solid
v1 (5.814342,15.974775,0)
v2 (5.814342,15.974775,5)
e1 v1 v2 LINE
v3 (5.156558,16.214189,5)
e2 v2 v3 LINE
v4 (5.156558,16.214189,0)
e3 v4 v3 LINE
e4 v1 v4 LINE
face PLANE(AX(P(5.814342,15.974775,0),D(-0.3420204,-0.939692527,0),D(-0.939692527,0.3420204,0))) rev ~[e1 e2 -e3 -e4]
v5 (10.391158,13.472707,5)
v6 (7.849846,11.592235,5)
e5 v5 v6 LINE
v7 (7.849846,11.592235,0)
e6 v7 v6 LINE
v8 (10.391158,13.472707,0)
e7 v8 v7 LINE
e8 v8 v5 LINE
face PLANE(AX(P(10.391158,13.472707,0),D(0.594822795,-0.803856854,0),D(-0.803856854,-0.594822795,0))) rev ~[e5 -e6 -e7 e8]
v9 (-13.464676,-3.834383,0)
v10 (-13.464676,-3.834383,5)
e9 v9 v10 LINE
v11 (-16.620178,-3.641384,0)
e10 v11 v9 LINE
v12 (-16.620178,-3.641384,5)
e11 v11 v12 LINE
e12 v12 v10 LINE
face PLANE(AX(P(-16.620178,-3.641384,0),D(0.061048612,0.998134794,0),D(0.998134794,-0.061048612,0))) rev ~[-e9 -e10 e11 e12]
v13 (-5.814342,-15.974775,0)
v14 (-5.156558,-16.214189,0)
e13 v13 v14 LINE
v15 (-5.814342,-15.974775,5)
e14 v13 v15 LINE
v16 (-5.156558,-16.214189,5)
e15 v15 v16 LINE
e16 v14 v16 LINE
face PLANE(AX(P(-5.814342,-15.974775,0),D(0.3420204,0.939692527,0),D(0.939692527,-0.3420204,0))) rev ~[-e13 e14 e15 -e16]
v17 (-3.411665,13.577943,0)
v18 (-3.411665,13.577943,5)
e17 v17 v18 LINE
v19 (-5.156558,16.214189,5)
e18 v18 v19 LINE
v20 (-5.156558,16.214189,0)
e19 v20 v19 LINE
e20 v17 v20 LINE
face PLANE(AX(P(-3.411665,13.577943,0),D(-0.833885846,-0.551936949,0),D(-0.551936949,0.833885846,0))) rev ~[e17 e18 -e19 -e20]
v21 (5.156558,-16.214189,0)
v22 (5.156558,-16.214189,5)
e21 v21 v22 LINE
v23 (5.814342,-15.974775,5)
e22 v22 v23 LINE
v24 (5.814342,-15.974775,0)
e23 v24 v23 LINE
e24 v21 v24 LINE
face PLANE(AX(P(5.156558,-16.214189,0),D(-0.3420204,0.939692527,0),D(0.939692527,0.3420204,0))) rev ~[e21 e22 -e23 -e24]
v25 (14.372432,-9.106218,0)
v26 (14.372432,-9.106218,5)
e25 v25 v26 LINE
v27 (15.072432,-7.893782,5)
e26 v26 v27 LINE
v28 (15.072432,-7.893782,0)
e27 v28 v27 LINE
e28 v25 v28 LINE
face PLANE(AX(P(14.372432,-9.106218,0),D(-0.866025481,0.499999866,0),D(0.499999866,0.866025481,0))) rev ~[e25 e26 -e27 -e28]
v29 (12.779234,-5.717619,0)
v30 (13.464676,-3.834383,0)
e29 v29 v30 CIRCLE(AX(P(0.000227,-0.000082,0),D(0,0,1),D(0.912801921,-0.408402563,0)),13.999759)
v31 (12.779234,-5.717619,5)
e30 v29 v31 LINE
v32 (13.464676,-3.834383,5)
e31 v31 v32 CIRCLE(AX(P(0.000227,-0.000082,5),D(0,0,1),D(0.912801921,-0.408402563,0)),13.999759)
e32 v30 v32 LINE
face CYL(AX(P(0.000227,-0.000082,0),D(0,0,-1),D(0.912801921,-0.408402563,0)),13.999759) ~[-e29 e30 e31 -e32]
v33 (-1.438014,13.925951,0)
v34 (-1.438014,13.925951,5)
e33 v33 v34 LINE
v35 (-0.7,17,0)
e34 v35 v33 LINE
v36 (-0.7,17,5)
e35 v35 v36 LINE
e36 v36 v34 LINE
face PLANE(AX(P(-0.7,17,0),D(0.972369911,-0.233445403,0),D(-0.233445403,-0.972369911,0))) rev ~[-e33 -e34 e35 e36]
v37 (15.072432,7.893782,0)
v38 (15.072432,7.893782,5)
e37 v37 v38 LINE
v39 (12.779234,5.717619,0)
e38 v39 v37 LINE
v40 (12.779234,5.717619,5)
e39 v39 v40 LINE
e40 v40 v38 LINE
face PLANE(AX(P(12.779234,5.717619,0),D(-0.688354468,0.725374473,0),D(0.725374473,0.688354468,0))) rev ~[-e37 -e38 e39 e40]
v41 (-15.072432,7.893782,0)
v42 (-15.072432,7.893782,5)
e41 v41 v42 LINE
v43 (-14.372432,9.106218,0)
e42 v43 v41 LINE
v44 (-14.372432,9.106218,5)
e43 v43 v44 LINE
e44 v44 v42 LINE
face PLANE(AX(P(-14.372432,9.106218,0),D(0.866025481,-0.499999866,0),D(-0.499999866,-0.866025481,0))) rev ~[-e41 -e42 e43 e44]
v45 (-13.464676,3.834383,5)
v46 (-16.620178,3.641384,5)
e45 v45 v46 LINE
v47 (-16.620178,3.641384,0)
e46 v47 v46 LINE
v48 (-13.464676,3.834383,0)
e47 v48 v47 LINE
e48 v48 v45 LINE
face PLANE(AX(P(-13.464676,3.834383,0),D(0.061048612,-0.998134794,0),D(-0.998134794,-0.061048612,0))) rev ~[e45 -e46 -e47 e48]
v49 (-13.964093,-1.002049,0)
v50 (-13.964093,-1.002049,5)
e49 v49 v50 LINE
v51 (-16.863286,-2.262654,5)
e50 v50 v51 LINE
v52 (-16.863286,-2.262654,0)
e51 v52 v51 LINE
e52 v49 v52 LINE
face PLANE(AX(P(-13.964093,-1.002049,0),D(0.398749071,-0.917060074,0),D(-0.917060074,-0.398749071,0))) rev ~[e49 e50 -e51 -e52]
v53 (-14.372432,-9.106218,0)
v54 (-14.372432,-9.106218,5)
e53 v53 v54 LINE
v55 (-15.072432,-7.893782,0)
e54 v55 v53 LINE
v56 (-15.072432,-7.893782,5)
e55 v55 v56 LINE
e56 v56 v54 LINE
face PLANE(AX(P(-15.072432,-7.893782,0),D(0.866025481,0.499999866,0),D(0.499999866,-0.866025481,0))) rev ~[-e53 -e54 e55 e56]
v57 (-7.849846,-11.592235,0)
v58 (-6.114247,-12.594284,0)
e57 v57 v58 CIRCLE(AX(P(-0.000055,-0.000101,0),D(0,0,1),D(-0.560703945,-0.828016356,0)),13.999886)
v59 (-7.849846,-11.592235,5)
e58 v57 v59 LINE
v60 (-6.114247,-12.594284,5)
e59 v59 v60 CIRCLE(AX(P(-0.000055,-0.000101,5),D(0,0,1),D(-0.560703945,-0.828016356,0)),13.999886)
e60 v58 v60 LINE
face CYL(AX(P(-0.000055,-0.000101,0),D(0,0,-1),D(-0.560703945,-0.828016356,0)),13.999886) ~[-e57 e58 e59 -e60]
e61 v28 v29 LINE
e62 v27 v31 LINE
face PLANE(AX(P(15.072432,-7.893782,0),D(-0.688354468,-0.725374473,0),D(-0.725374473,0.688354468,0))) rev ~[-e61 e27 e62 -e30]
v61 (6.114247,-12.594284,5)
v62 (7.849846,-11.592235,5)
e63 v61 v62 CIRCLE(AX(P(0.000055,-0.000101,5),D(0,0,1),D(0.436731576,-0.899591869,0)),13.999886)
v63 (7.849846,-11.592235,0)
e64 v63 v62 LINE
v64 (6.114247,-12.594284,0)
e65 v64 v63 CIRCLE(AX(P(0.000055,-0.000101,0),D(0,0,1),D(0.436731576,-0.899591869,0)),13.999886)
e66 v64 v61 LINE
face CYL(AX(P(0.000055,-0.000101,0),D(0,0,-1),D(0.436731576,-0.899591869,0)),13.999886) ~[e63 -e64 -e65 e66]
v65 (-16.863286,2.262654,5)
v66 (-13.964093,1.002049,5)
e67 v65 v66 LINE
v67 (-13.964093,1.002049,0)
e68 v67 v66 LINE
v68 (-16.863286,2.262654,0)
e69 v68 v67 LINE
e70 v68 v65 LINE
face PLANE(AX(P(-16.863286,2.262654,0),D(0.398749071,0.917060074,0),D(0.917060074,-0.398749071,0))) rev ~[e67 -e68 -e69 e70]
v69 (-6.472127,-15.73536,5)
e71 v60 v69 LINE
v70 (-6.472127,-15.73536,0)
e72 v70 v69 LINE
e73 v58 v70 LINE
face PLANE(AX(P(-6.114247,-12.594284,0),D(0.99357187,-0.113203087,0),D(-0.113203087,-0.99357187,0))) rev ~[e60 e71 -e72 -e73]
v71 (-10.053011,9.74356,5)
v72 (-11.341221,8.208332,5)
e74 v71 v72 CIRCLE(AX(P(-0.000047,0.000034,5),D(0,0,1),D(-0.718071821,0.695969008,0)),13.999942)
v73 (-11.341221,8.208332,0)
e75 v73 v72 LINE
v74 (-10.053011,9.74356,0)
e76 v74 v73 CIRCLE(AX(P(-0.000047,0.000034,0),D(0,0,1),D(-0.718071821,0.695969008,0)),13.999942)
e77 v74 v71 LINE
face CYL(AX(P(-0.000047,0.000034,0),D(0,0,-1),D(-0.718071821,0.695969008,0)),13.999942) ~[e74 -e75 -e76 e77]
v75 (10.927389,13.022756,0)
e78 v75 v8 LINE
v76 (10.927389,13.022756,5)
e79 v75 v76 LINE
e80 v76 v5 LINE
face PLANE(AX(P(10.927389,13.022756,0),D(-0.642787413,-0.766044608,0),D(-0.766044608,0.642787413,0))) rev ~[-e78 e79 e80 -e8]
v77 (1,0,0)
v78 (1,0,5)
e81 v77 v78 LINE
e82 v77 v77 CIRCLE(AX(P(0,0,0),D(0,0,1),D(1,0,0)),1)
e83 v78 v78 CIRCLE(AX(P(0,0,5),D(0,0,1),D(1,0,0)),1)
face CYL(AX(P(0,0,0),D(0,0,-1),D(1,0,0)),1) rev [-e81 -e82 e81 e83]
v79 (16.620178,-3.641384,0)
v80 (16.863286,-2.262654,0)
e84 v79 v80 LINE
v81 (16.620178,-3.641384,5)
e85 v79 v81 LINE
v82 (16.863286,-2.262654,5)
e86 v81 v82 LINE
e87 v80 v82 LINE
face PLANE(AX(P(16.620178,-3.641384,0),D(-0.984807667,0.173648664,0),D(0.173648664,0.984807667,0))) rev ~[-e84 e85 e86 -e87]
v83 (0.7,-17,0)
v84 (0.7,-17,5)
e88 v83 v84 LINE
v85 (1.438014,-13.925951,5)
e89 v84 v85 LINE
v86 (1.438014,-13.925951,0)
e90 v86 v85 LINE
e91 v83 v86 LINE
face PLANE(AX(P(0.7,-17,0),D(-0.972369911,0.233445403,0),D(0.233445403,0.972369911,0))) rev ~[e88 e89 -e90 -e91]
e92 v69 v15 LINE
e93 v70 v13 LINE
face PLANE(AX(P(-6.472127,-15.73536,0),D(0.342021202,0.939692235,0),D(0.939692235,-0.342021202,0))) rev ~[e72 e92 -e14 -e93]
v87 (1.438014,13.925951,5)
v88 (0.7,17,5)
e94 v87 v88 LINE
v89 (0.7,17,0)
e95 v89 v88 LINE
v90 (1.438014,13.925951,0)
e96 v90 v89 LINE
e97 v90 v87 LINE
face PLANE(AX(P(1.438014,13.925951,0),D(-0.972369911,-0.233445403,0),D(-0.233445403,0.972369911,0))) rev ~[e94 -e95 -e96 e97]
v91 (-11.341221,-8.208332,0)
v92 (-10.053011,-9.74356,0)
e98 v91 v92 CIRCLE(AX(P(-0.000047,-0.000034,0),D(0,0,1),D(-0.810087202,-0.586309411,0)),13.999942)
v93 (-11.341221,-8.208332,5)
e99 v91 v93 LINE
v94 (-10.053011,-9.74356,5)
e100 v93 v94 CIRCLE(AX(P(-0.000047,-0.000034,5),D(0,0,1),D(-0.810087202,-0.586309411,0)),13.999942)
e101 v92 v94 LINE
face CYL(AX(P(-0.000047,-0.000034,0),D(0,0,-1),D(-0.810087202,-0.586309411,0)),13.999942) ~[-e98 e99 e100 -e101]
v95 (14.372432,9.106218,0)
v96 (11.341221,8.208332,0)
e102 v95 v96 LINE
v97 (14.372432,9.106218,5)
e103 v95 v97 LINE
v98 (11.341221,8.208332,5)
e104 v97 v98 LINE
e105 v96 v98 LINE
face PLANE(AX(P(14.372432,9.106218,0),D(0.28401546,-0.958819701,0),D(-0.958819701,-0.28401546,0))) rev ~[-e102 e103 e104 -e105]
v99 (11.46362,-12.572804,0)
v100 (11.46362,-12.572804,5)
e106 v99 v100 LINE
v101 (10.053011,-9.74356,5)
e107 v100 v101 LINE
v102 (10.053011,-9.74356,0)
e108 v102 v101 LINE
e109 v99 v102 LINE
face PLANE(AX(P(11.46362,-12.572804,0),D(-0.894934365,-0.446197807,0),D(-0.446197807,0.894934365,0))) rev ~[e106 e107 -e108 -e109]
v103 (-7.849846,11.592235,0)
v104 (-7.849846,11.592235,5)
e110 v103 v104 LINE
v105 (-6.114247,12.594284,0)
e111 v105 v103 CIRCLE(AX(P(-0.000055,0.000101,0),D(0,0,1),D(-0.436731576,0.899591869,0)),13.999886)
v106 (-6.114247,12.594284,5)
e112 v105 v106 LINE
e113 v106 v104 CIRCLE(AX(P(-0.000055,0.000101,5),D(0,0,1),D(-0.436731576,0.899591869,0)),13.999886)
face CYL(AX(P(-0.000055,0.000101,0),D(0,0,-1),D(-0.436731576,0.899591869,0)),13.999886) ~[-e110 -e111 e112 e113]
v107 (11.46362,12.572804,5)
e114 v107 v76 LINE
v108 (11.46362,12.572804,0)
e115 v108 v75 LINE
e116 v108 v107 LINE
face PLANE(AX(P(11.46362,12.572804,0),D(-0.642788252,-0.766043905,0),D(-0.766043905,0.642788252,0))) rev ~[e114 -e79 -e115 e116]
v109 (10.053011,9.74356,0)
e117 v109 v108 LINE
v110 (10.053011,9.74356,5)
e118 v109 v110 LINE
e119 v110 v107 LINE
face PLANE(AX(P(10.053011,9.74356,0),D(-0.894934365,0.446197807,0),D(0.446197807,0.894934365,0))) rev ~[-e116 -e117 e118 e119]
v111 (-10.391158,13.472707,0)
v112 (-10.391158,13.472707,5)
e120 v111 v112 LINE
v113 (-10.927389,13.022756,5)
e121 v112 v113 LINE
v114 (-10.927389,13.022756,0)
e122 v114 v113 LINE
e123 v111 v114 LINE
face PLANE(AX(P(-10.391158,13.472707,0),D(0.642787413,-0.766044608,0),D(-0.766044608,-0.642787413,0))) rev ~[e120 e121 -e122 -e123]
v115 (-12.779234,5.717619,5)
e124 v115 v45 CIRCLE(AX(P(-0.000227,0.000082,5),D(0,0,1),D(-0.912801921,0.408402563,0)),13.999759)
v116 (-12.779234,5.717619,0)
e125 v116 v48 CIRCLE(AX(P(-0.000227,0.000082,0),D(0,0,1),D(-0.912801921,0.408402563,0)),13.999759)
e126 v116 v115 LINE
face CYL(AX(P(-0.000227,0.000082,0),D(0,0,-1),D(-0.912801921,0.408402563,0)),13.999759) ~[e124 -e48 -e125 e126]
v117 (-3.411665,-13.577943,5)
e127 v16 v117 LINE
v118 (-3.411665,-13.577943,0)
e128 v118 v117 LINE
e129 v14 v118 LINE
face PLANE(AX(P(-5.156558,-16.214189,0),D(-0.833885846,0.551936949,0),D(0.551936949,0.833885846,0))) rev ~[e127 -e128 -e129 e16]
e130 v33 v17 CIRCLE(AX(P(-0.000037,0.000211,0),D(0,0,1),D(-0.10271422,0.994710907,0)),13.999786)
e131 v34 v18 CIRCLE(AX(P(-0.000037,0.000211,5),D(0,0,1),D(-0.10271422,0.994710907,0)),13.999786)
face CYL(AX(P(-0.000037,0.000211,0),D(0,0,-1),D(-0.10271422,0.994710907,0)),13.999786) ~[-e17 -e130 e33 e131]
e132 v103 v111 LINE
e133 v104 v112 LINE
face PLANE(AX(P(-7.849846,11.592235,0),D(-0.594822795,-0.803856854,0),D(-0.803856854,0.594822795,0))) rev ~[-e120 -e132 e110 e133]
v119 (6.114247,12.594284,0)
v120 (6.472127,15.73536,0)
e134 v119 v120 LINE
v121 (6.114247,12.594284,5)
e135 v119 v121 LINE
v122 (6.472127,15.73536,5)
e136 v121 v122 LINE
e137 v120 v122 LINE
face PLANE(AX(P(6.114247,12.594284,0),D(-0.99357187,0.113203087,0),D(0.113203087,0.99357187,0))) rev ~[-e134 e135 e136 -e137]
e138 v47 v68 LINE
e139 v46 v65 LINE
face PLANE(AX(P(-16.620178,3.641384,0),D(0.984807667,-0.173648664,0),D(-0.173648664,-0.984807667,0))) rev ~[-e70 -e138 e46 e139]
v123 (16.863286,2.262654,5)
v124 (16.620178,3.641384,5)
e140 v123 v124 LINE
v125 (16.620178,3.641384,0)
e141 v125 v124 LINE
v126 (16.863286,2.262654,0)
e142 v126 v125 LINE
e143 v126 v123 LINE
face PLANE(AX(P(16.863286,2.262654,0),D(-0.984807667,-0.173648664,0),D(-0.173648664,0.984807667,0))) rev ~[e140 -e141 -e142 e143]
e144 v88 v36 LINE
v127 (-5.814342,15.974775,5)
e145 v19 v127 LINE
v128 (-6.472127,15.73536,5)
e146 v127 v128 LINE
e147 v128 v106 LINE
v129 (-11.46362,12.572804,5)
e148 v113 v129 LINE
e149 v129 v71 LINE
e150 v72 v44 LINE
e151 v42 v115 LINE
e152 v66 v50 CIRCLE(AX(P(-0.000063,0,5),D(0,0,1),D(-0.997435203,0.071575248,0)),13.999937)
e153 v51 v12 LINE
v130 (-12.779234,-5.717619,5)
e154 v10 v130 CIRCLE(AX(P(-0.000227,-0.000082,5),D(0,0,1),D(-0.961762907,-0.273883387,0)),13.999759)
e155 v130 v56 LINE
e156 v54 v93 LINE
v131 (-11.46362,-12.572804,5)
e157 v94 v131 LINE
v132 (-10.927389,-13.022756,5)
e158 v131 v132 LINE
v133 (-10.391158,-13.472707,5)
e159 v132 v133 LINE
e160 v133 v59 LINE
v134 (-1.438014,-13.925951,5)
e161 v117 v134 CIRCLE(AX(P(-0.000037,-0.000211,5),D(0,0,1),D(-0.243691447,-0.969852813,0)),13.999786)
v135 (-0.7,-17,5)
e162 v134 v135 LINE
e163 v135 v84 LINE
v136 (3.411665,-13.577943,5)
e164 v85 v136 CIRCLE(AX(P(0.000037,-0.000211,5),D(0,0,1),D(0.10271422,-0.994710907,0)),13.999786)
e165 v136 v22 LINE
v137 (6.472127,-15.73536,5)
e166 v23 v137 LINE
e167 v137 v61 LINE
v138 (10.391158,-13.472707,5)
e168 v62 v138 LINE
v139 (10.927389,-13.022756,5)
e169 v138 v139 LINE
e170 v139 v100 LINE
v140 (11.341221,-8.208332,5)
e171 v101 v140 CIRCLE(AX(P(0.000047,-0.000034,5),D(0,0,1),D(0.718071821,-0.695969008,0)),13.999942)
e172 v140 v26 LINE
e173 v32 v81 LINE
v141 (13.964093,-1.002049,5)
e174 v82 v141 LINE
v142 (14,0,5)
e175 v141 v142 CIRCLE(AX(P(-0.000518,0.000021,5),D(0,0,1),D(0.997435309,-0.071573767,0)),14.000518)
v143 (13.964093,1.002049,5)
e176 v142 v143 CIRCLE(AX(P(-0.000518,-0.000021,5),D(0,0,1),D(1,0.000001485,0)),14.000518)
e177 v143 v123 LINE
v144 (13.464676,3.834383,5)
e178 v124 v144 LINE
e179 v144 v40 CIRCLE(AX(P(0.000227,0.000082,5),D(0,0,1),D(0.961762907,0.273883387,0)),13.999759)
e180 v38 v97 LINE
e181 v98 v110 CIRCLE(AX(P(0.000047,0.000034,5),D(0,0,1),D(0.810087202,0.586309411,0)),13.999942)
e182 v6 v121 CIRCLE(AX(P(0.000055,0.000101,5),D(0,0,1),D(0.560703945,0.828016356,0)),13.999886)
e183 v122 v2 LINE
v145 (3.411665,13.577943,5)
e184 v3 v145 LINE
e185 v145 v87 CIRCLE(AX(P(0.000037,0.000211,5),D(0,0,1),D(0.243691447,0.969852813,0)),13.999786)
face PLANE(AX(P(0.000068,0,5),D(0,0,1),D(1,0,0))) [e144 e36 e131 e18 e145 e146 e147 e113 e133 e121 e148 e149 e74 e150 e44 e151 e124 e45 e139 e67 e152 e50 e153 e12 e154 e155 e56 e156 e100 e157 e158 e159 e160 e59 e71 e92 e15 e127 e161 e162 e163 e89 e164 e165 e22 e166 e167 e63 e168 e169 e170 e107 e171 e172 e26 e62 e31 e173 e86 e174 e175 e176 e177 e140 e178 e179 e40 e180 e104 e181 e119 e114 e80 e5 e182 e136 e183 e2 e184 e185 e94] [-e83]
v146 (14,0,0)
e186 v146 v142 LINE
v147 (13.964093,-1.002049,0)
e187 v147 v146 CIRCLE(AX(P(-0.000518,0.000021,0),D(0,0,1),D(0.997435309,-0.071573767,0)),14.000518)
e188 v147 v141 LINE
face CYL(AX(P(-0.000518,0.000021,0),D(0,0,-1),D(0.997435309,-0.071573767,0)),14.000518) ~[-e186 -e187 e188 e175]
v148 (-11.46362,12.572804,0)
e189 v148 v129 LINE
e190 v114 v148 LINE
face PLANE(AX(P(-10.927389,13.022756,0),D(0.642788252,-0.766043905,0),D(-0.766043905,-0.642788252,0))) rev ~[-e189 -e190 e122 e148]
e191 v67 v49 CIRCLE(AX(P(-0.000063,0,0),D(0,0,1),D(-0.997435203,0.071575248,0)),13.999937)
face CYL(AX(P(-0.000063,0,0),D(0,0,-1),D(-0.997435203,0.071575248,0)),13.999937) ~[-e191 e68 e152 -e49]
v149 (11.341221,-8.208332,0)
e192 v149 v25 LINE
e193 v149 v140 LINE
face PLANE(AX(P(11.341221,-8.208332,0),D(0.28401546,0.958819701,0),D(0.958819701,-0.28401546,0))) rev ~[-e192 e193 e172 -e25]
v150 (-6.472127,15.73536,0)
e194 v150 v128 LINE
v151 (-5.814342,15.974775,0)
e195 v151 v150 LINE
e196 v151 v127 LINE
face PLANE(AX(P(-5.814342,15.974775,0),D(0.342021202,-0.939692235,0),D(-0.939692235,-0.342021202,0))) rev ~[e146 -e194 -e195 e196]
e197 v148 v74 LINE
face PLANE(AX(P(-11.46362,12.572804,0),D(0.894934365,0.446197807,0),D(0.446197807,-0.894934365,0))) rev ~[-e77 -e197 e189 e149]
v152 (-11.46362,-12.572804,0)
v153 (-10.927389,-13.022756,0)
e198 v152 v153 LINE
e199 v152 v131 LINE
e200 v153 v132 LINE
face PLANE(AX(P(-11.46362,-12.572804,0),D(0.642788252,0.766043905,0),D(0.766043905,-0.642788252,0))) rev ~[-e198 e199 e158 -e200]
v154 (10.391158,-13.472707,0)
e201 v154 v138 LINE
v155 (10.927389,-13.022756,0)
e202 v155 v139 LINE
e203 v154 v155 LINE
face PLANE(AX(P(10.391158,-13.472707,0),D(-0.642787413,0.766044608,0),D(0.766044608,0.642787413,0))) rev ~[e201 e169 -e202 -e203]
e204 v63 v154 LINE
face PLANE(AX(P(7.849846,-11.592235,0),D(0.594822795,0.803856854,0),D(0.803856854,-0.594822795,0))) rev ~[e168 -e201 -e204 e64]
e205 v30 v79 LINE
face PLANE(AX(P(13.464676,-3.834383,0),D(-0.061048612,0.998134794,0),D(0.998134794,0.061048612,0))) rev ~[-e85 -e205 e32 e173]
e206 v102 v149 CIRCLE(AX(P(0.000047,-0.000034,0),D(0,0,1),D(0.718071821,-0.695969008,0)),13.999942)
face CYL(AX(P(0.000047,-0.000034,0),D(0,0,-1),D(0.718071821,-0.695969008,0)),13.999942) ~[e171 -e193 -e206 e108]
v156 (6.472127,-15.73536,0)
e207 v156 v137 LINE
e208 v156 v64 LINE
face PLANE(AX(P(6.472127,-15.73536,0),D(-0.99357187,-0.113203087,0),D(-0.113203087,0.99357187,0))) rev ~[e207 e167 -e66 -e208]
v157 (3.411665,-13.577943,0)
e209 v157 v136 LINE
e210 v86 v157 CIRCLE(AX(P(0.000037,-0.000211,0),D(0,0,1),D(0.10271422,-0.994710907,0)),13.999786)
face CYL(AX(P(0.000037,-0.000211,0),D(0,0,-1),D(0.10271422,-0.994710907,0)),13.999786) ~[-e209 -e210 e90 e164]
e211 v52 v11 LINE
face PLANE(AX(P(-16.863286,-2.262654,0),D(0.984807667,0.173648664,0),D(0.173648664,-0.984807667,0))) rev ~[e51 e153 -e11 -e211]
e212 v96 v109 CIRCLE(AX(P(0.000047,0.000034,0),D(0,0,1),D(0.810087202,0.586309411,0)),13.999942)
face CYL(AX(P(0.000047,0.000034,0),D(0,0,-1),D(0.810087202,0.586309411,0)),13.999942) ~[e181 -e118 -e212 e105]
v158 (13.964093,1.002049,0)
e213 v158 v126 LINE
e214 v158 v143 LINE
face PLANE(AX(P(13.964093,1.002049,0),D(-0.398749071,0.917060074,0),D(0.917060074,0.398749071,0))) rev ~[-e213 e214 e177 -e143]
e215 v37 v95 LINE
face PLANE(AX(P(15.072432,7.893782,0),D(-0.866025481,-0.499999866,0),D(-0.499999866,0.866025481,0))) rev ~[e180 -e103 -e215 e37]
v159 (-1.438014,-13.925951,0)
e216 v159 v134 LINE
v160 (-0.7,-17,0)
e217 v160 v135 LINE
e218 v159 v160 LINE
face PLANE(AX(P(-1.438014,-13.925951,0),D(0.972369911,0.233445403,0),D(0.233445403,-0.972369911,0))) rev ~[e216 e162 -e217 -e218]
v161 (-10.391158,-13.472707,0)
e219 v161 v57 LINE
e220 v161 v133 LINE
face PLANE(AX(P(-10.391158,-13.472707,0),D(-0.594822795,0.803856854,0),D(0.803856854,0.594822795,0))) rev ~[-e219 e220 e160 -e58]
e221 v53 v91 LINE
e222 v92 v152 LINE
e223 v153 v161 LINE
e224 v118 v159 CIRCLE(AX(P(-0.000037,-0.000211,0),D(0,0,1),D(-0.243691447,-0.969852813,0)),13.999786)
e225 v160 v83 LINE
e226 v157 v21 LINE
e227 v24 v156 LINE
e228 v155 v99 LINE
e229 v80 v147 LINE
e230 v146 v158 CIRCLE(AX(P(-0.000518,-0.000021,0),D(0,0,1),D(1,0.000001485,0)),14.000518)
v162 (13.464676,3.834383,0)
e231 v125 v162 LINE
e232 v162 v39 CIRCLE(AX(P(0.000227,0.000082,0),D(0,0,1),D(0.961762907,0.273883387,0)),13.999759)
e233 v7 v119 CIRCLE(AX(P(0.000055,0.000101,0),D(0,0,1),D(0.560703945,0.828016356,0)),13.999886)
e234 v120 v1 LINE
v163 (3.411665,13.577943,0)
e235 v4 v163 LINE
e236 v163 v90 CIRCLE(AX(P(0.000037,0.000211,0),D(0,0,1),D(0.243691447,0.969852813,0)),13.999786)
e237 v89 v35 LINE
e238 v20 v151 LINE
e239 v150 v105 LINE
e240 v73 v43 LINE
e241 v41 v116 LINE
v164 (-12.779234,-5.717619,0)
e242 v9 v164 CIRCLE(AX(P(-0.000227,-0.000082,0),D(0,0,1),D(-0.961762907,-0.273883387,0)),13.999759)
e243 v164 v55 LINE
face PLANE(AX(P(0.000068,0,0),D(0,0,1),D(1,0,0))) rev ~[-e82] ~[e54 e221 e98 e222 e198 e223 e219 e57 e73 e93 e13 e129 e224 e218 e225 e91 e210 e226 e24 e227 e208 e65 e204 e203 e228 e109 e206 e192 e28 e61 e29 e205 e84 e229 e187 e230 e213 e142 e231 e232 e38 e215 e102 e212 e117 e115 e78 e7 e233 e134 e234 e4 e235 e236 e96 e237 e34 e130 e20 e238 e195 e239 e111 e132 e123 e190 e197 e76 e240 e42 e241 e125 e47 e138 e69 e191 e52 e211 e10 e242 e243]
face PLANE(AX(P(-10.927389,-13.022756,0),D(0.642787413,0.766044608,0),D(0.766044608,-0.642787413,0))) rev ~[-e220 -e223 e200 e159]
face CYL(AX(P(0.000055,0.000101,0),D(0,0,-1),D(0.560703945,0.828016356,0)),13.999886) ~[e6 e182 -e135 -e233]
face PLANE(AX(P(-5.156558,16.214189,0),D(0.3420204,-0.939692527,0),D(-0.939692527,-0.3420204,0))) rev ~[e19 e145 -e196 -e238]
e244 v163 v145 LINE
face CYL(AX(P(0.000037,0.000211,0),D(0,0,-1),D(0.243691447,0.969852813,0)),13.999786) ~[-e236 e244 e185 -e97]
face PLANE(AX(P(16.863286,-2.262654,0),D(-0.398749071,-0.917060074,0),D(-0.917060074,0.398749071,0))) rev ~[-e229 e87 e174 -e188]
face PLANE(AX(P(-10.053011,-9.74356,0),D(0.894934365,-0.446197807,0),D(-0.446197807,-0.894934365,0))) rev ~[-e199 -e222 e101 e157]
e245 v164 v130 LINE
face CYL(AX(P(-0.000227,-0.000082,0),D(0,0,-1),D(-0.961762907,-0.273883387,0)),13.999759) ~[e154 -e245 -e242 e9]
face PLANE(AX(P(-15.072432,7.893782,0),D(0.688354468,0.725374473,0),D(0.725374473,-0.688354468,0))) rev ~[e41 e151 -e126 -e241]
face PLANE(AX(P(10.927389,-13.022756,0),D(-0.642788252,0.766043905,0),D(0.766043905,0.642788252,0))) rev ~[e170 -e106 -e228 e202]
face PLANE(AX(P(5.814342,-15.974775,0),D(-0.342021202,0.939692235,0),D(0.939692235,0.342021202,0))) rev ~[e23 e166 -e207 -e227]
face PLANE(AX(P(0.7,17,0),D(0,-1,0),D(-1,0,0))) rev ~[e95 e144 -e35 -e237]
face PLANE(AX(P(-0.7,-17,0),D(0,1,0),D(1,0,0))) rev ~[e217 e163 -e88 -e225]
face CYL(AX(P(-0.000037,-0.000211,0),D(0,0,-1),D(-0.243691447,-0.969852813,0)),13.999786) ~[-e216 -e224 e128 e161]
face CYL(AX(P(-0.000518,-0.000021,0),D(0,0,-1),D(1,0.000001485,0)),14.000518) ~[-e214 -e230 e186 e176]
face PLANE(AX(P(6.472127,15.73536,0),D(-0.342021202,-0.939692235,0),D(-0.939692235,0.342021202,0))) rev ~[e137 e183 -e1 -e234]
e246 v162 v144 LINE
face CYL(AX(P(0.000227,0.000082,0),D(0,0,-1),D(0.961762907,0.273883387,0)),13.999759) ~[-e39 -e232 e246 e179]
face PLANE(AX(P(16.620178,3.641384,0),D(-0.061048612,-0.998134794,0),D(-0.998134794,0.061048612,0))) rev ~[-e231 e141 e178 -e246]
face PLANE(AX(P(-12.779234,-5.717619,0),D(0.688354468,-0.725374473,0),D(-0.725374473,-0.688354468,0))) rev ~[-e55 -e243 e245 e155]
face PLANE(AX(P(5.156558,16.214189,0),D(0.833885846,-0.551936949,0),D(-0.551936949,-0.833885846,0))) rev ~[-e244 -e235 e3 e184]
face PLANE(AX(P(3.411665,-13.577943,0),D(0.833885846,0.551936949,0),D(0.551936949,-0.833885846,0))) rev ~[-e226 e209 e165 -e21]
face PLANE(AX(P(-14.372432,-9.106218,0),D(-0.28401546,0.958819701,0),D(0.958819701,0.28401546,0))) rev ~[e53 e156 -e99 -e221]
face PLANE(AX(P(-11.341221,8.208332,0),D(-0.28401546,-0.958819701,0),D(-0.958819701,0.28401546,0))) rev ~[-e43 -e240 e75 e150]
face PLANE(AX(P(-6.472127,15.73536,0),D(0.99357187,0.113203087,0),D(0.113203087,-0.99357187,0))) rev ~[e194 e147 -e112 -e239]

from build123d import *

# Parameters (mm, degrees)
F0_R     = 1
F1_DEPTH = 5


with BuildPart() as f1:
    # F0 (on Top) → F1 (new body)
    with BuildSketch(Plane.XY):
        with BuildLine():
            ThreePointArc((13.964093, -1.002049), (13.99102, -0.501346), (14, 0))
            ThreePointArc((14, 0), (13.99102, 0.501346), (13.964093, 1.002049))
            ThreePointArc((13.964093, 1.002049), (13.787309, 2.431074), (13.464676, 3.834383))
            ThreePointArc((13.464676, 3.834383), (13.155697, 4.788282), (12.779234, 5.717619))
            ThreePointArc((12.779234, 5.717619), (12.124356, 7), (11.341221, 8.208332))
            ThreePointArc((11.341221, 8.208332), (10.724622, 8.999027), (10.053011, 9.74356))
            ThreePointArc((10.053011, 9.74356), (8.999027, 10.724622), (7.849846, 11.592235))
            ThreePointArc((7.849846, 11.592235), (7, 12.124356), (6.114247, 12.594284))
            ThreePointArc((6.114247, 12.594284), (4.788282, 13.155697), (3.411665, 13.577943))
            ThreePointArc((3.411665, 13.577943), (2.431074, 13.787309), (1.438014, 13.925951))
            ThreePointArc((1.438014, 13.925951), (0, 14), (-1.438014, 13.925951))
            ThreePointArc((-1.438014, 13.925951), (-2.431074, 13.787309), (-3.411665, 13.577943))
            ThreePointArc((-3.411665, 13.577943), (-4.788282, 13.155697), (-6.114247, 12.594284))
            ThreePointArc((-6.114247, 12.594284), (-7, 12.124356), (-7.849846, 11.592235))
            ThreePointArc((-7.849846, 11.592235), (-8.999027, 10.724622), (-10.053011, 9.74356))
            ThreePointArc((-10.053011, 9.74356), (-10.724622, 8.999027), (-11.341221, 8.208332))
            ThreePointArc((-11.341221, 8.208332), (-12.124356, 7), (-12.779234, 5.717619))
            ThreePointArc((-12.779234, 5.717619), (-13.155697, 4.788282), (-13.464676, 3.834383))
            ThreePointArc((-13.464676, 3.834383), (-13.787309, 2.431074), (-13.964093, 1.002049))
            ThreePointArc((-13.964093, 1.002049), (-14, 0), (-13.964093, -1.002049))
            ThreePointArc((-13.964093, -1.002049), (-13.787309, -2.431074), (-13.464676, -3.834383))
            ThreePointArc((-13.464676, -3.834383), (-13.155697, -4.788282), (-12.779234, -5.717619))
            ThreePointArc((-12.779234, -5.717619), (-12.124356, -7), (-11.341221, -8.208332))
            ThreePointArc((-11.341221, -8.208332), (-10.724622, -8.999027), (-10.053011, -9.74356))
            ThreePointArc((-10.053011, -9.74356), (-8.999027, -10.724622), (-7.849846, -11.592235))
            ThreePointArc((-7.849846, -11.592235), (-7, -12.124356), (-6.114247, -12.594284))
            ThreePointArc((-6.114247, -12.594284), (-4.788282, -13.155697), (-3.411665, -13.577943))
            ThreePointArc((-3.411665, -13.577943), (-2.431074, -13.787309), (-1.438014, -13.925951))
            ThreePointArc((-1.438014, -13.925951), (0, -14), (1.438014, -13.925951))
            ThreePointArc((1.438014, -13.925951), (2.431074, -13.787309), (3.411665, -13.577943))
            ThreePointArc((3.411665, -13.577943), (4.788282, -13.155697), (6.114247, -12.594284))
            ThreePointArc((6.114247, -12.594284), (7, -12.124356), (7.849846, -11.592235))
            ThreePointArc((7.849846, -11.592235), (8.999027, -10.724622), (10.053011, -9.74356))
            ThreePointArc((10.053011, -9.74356), (10.724622, -8.999027), (11.341221, -8.208332))
            ThreePointArc((11.341221, -8.208332), (12.124356, -7), (12.779234, -5.717619))
            ThreePointArc((12.779234, -5.717619), (13.155697, -4.788282), (13.464676, -3.834383))
            ThreePointArc((13.464676, -3.834383), (13.787309, -2.431074), (13.964093, -1.002049))
        make_face()
        Circle(F0_R, mode=Mode.SUBTRACT)
        with BuildLine():
            Line((15.072432, -7.893782), (12.779234, -5.717619))
            ThreePointArc((12.779234, -5.717619), (12.124356, -7), (11.341221, -8.208332))
            Line((11.341221, -8.208332), (14.372432, -9.106218))
            Line((14.372432, -9.106218), (14.722432, -8.5))
            Line((14.722432, -8.5), (15.072432, -7.893782))
        make_face()
        with BuildLine():
            Line((0.7, -17), (1.438014, -13.925951))
            ThreePointArc((1.438014, -13.925951), (0, -14), (-1.438014, -13.925951))
            Line((-1.438014, -13.925951), (-0.7, -17))
            Line((-0.7, -17), (0, -17))
            Line((0, -17), (0.7, -17))
        make_face()
        with BuildLine():
            Line((-10.391158, -13.472707), (-7.849846, -11.592235))
            ThreePointArc((-7.849846, -11.592235), (-8.999027, -10.724622), (-10.053011, -9.74356))
            Line((-10.053011, -9.74356), (-11.46362, -12.572804))
            Line((-11.46362, -12.572804), (-10.927389, -13.022756))
            Line((-10.927389, -13.022756), (-10.391158, -13.472707))
        make_face()
        with BuildLine():
            Line((11.46362, -12.572804), (10.053011, -9.74356))
            ThreePointArc((10.053011, -9.74356), (8.999027, -10.724622), (7.849846, -11.592235))
            Line((7.849846, -11.592235), (10.391158, -13.472707))
            Line((10.391158, -13.472707), (10.927389, -13.022756))
            Line((10.927389, -13.022756), (11.46362, -12.572804))
        make_face()
        with BuildLine():
            Line((-5.156558, -16.214189), (-3.411665, -13.577943))
            ThreePointArc((-3.411665, -13.577943), (-4.788282, -13.155697), (-6.114247, -12.594284))
            Line((-6.114247, -12.594284), (-6.472127, -15.73536))
            Line((-6.472127, -15.73536), (-5.814342, -15.974775))
            Line((-5.814342, -15.974775), (-5.156558, -16.214189))
        make_face()
        with BuildLine():
            ThreePointArc((13.464676, 3.834383), (13.787309, 2.431074), (13.964093, 1.002049))
            Line((13.964093, 1.002049), (16.863286, 2.262654))
            Line((16.863286, 2.262654), (16.741732, 2.952019))
            Line((16.741732, 2.952019), (16.620178, 3.641384))
            Line((16.620178, 3.641384), (13.464676, 3.834383))
        make_face()
        with BuildLine():
            Line((16.863286, -2.262654), (13.964093, -1.002049))
            ThreePointArc((13.964093, -1.002049), (13.787309, -2.431074), (13.464676, -3.834383))
            Line((13.464676, -3.834383), (16.620178, -3.641384))
            Line((16.620178, -3.641384), (16.741732, -2.952019))
            Line((16.741732, -2.952019), (16.863286, -2.262654))
        make_face()
        with BuildLine():
            Line((6.472127, -15.73536), (6.114247, -12.594284))
            ThreePointArc((6.114247, -12.594284), (4.788282, -13.155697), (3.411665, -13.577943))
            Line((3.411665, -13.577943), (5.156558, -16.214189))
            Line((5.156558, -16.214189), (5.814342, -15.974775))
            Line((5.814342, -15.974775), (6.472127, -15.73536))
        make_face()
        with BuildLine():
            ThreePointArc((-1.438014, 13.925951), (0, 14), (1.438014, 13.925951))
            Line((1.438014, 13.925951), (0.7, 17))
            Line((0.7, 17), (0, 17))
            Line((0, 17), (-0.7, 17))
            Line((-0.7, 17), (-1.438014, 13.925951))
        make_face()
        with BuildLine():
            ThreePointArc((3.411665, 13.577943), (4.788282, 13.155697), (6.114247, 12.594284))
            Line((6.114247, 12.594284), (6.472127, 15.73536))
            Line((6.472127, 15.73536), (5.814342, 15.974775))
            Line((5.814342, 15.974775), (5.156558, 16.214189))
            Line((5.156558, 16.214189), (3.411665, 13.577943))
        make_face()
        with BuildLine():
            ThreePointArc((11.341221, 8.208332), (12.124356, 7), (12.779234, 5.717619))
            Line((12.779234, 5.717619), (15.072432, 7.893782))
            Line((15.072432, 7.893782), (14.722432, 8.5))
            Line((14.722432, 8.5), (14.372432, 9.106218))
            Line((14.372432, 9.106218), (11.341221, 8.208332))
        make_face()
        with BuildLine():
            ThreePointArc((-6.114247, 12.594284), (-4.788282, 13.155697), (-3.411665, 13.577943))
            Line((-3.411665, 13.577943), (-5.156558, 16.214189))
            Line((-5.156558, 16.214189), (-5.814342, 15.974775))
            Line((-5.814342, 15.974775), (-6.472127, 15.73536))
            Line((-6.472127, 15.73536), (-6.114247, 12.594284))
        make_face()
        with BuildLine():
            ThreePointArc((-12.779234, 5.717619), (-12.124356, 7), (-11.341221, 8.208332))
            Line((-11.341221, 8.208332), (-14.372432, 9.106218))
            Line((-14.372432, 9.106218), (-14.722432, 8.5))
            Line((-14.722432, 8.5), (-15.072432, 7.893782))
            Line((-15.072432, 7.893782), (-12.779234, 5.717619))
        make_face()
        with BuildLine():
            ThreePointArc((7.849846, 11.592235), (8.999027, 10.724622), (10.053011, 9.74356))
            Line((10.053011, 9.74356), (11.46362, 12.572804))
            Line((11.46362, 12.572804), (10.927389, 13.022756))
            Line((10.927389, 13.022756), (10.391158, 13.472707))
            Line((10.391158, 13.472707), (7.849846, 11.592235))
        make_face()
        with BuildLine():
            ThreePointArc((-10.053011, 9.74356), (-8.999027, 10.724622), (-7.849846, 11.592235))
            Line((-7.849846, 11.592235), (-10.391158, 13.472707))
            Line((-10.391158, 13.472707), (-10.927389, 13.022756))
            Line((-10.927389, 13.022756), (-11.46362, 12.572804))
            Line((-11.46362, 12.572804), (-10.053011, 9.74356))
        make_face()
        with BuildLine():
            ThreePointArc((-13.964093, 1.002049), (-13.787309, 2.431074), (-13.464676, 3.834383))
            Line((-13.464676, 3.834383), (-16.620178, 3.641384))
            Line((-16.620178, 3.641384), (-16.741732, 2.952019))
            Line((-16.741732, 2.952019), (-16.863286, 2.262654))
            Line((-16.863286, 2.262654), (-13.964093, 1.002049))
        make_face()
        with BuildLine():
            Line((-16.620178, -3.641384), (-13.464676, -3.834383))
            ThreePointArc((-13.464676, -3.834383), (-13.787309, -2.431074), (-13.964093, -1.002049))
            Line((-13.964093, -1.002049), (-16.863286, -2.262654))
            Line((-16.863286, -2.262654), (-16.741732, -2.952019))
            Line((-16.741732, -2.952019), (-16.620178, -3.641384))
        make_face()
        with BuildLine():
            Line((-14.372432, -9.106218), (-11.341221, -8.208332))
            ThreePointArc((-11.341221, -8.208332), (-12.124356, -7), (-12.779234, -5.717619))
            Line((-12.779234, -5.717619), (-15.072432, -7.893782))
            Line((-15.072432, -7.893782), (-14.722432, -8.5))
            Line((-14.722432, -8.5), (-14.372432, -9.106218))
        make_face()
    extrude(amount=F1_DEPTH)


solid = f1.part
